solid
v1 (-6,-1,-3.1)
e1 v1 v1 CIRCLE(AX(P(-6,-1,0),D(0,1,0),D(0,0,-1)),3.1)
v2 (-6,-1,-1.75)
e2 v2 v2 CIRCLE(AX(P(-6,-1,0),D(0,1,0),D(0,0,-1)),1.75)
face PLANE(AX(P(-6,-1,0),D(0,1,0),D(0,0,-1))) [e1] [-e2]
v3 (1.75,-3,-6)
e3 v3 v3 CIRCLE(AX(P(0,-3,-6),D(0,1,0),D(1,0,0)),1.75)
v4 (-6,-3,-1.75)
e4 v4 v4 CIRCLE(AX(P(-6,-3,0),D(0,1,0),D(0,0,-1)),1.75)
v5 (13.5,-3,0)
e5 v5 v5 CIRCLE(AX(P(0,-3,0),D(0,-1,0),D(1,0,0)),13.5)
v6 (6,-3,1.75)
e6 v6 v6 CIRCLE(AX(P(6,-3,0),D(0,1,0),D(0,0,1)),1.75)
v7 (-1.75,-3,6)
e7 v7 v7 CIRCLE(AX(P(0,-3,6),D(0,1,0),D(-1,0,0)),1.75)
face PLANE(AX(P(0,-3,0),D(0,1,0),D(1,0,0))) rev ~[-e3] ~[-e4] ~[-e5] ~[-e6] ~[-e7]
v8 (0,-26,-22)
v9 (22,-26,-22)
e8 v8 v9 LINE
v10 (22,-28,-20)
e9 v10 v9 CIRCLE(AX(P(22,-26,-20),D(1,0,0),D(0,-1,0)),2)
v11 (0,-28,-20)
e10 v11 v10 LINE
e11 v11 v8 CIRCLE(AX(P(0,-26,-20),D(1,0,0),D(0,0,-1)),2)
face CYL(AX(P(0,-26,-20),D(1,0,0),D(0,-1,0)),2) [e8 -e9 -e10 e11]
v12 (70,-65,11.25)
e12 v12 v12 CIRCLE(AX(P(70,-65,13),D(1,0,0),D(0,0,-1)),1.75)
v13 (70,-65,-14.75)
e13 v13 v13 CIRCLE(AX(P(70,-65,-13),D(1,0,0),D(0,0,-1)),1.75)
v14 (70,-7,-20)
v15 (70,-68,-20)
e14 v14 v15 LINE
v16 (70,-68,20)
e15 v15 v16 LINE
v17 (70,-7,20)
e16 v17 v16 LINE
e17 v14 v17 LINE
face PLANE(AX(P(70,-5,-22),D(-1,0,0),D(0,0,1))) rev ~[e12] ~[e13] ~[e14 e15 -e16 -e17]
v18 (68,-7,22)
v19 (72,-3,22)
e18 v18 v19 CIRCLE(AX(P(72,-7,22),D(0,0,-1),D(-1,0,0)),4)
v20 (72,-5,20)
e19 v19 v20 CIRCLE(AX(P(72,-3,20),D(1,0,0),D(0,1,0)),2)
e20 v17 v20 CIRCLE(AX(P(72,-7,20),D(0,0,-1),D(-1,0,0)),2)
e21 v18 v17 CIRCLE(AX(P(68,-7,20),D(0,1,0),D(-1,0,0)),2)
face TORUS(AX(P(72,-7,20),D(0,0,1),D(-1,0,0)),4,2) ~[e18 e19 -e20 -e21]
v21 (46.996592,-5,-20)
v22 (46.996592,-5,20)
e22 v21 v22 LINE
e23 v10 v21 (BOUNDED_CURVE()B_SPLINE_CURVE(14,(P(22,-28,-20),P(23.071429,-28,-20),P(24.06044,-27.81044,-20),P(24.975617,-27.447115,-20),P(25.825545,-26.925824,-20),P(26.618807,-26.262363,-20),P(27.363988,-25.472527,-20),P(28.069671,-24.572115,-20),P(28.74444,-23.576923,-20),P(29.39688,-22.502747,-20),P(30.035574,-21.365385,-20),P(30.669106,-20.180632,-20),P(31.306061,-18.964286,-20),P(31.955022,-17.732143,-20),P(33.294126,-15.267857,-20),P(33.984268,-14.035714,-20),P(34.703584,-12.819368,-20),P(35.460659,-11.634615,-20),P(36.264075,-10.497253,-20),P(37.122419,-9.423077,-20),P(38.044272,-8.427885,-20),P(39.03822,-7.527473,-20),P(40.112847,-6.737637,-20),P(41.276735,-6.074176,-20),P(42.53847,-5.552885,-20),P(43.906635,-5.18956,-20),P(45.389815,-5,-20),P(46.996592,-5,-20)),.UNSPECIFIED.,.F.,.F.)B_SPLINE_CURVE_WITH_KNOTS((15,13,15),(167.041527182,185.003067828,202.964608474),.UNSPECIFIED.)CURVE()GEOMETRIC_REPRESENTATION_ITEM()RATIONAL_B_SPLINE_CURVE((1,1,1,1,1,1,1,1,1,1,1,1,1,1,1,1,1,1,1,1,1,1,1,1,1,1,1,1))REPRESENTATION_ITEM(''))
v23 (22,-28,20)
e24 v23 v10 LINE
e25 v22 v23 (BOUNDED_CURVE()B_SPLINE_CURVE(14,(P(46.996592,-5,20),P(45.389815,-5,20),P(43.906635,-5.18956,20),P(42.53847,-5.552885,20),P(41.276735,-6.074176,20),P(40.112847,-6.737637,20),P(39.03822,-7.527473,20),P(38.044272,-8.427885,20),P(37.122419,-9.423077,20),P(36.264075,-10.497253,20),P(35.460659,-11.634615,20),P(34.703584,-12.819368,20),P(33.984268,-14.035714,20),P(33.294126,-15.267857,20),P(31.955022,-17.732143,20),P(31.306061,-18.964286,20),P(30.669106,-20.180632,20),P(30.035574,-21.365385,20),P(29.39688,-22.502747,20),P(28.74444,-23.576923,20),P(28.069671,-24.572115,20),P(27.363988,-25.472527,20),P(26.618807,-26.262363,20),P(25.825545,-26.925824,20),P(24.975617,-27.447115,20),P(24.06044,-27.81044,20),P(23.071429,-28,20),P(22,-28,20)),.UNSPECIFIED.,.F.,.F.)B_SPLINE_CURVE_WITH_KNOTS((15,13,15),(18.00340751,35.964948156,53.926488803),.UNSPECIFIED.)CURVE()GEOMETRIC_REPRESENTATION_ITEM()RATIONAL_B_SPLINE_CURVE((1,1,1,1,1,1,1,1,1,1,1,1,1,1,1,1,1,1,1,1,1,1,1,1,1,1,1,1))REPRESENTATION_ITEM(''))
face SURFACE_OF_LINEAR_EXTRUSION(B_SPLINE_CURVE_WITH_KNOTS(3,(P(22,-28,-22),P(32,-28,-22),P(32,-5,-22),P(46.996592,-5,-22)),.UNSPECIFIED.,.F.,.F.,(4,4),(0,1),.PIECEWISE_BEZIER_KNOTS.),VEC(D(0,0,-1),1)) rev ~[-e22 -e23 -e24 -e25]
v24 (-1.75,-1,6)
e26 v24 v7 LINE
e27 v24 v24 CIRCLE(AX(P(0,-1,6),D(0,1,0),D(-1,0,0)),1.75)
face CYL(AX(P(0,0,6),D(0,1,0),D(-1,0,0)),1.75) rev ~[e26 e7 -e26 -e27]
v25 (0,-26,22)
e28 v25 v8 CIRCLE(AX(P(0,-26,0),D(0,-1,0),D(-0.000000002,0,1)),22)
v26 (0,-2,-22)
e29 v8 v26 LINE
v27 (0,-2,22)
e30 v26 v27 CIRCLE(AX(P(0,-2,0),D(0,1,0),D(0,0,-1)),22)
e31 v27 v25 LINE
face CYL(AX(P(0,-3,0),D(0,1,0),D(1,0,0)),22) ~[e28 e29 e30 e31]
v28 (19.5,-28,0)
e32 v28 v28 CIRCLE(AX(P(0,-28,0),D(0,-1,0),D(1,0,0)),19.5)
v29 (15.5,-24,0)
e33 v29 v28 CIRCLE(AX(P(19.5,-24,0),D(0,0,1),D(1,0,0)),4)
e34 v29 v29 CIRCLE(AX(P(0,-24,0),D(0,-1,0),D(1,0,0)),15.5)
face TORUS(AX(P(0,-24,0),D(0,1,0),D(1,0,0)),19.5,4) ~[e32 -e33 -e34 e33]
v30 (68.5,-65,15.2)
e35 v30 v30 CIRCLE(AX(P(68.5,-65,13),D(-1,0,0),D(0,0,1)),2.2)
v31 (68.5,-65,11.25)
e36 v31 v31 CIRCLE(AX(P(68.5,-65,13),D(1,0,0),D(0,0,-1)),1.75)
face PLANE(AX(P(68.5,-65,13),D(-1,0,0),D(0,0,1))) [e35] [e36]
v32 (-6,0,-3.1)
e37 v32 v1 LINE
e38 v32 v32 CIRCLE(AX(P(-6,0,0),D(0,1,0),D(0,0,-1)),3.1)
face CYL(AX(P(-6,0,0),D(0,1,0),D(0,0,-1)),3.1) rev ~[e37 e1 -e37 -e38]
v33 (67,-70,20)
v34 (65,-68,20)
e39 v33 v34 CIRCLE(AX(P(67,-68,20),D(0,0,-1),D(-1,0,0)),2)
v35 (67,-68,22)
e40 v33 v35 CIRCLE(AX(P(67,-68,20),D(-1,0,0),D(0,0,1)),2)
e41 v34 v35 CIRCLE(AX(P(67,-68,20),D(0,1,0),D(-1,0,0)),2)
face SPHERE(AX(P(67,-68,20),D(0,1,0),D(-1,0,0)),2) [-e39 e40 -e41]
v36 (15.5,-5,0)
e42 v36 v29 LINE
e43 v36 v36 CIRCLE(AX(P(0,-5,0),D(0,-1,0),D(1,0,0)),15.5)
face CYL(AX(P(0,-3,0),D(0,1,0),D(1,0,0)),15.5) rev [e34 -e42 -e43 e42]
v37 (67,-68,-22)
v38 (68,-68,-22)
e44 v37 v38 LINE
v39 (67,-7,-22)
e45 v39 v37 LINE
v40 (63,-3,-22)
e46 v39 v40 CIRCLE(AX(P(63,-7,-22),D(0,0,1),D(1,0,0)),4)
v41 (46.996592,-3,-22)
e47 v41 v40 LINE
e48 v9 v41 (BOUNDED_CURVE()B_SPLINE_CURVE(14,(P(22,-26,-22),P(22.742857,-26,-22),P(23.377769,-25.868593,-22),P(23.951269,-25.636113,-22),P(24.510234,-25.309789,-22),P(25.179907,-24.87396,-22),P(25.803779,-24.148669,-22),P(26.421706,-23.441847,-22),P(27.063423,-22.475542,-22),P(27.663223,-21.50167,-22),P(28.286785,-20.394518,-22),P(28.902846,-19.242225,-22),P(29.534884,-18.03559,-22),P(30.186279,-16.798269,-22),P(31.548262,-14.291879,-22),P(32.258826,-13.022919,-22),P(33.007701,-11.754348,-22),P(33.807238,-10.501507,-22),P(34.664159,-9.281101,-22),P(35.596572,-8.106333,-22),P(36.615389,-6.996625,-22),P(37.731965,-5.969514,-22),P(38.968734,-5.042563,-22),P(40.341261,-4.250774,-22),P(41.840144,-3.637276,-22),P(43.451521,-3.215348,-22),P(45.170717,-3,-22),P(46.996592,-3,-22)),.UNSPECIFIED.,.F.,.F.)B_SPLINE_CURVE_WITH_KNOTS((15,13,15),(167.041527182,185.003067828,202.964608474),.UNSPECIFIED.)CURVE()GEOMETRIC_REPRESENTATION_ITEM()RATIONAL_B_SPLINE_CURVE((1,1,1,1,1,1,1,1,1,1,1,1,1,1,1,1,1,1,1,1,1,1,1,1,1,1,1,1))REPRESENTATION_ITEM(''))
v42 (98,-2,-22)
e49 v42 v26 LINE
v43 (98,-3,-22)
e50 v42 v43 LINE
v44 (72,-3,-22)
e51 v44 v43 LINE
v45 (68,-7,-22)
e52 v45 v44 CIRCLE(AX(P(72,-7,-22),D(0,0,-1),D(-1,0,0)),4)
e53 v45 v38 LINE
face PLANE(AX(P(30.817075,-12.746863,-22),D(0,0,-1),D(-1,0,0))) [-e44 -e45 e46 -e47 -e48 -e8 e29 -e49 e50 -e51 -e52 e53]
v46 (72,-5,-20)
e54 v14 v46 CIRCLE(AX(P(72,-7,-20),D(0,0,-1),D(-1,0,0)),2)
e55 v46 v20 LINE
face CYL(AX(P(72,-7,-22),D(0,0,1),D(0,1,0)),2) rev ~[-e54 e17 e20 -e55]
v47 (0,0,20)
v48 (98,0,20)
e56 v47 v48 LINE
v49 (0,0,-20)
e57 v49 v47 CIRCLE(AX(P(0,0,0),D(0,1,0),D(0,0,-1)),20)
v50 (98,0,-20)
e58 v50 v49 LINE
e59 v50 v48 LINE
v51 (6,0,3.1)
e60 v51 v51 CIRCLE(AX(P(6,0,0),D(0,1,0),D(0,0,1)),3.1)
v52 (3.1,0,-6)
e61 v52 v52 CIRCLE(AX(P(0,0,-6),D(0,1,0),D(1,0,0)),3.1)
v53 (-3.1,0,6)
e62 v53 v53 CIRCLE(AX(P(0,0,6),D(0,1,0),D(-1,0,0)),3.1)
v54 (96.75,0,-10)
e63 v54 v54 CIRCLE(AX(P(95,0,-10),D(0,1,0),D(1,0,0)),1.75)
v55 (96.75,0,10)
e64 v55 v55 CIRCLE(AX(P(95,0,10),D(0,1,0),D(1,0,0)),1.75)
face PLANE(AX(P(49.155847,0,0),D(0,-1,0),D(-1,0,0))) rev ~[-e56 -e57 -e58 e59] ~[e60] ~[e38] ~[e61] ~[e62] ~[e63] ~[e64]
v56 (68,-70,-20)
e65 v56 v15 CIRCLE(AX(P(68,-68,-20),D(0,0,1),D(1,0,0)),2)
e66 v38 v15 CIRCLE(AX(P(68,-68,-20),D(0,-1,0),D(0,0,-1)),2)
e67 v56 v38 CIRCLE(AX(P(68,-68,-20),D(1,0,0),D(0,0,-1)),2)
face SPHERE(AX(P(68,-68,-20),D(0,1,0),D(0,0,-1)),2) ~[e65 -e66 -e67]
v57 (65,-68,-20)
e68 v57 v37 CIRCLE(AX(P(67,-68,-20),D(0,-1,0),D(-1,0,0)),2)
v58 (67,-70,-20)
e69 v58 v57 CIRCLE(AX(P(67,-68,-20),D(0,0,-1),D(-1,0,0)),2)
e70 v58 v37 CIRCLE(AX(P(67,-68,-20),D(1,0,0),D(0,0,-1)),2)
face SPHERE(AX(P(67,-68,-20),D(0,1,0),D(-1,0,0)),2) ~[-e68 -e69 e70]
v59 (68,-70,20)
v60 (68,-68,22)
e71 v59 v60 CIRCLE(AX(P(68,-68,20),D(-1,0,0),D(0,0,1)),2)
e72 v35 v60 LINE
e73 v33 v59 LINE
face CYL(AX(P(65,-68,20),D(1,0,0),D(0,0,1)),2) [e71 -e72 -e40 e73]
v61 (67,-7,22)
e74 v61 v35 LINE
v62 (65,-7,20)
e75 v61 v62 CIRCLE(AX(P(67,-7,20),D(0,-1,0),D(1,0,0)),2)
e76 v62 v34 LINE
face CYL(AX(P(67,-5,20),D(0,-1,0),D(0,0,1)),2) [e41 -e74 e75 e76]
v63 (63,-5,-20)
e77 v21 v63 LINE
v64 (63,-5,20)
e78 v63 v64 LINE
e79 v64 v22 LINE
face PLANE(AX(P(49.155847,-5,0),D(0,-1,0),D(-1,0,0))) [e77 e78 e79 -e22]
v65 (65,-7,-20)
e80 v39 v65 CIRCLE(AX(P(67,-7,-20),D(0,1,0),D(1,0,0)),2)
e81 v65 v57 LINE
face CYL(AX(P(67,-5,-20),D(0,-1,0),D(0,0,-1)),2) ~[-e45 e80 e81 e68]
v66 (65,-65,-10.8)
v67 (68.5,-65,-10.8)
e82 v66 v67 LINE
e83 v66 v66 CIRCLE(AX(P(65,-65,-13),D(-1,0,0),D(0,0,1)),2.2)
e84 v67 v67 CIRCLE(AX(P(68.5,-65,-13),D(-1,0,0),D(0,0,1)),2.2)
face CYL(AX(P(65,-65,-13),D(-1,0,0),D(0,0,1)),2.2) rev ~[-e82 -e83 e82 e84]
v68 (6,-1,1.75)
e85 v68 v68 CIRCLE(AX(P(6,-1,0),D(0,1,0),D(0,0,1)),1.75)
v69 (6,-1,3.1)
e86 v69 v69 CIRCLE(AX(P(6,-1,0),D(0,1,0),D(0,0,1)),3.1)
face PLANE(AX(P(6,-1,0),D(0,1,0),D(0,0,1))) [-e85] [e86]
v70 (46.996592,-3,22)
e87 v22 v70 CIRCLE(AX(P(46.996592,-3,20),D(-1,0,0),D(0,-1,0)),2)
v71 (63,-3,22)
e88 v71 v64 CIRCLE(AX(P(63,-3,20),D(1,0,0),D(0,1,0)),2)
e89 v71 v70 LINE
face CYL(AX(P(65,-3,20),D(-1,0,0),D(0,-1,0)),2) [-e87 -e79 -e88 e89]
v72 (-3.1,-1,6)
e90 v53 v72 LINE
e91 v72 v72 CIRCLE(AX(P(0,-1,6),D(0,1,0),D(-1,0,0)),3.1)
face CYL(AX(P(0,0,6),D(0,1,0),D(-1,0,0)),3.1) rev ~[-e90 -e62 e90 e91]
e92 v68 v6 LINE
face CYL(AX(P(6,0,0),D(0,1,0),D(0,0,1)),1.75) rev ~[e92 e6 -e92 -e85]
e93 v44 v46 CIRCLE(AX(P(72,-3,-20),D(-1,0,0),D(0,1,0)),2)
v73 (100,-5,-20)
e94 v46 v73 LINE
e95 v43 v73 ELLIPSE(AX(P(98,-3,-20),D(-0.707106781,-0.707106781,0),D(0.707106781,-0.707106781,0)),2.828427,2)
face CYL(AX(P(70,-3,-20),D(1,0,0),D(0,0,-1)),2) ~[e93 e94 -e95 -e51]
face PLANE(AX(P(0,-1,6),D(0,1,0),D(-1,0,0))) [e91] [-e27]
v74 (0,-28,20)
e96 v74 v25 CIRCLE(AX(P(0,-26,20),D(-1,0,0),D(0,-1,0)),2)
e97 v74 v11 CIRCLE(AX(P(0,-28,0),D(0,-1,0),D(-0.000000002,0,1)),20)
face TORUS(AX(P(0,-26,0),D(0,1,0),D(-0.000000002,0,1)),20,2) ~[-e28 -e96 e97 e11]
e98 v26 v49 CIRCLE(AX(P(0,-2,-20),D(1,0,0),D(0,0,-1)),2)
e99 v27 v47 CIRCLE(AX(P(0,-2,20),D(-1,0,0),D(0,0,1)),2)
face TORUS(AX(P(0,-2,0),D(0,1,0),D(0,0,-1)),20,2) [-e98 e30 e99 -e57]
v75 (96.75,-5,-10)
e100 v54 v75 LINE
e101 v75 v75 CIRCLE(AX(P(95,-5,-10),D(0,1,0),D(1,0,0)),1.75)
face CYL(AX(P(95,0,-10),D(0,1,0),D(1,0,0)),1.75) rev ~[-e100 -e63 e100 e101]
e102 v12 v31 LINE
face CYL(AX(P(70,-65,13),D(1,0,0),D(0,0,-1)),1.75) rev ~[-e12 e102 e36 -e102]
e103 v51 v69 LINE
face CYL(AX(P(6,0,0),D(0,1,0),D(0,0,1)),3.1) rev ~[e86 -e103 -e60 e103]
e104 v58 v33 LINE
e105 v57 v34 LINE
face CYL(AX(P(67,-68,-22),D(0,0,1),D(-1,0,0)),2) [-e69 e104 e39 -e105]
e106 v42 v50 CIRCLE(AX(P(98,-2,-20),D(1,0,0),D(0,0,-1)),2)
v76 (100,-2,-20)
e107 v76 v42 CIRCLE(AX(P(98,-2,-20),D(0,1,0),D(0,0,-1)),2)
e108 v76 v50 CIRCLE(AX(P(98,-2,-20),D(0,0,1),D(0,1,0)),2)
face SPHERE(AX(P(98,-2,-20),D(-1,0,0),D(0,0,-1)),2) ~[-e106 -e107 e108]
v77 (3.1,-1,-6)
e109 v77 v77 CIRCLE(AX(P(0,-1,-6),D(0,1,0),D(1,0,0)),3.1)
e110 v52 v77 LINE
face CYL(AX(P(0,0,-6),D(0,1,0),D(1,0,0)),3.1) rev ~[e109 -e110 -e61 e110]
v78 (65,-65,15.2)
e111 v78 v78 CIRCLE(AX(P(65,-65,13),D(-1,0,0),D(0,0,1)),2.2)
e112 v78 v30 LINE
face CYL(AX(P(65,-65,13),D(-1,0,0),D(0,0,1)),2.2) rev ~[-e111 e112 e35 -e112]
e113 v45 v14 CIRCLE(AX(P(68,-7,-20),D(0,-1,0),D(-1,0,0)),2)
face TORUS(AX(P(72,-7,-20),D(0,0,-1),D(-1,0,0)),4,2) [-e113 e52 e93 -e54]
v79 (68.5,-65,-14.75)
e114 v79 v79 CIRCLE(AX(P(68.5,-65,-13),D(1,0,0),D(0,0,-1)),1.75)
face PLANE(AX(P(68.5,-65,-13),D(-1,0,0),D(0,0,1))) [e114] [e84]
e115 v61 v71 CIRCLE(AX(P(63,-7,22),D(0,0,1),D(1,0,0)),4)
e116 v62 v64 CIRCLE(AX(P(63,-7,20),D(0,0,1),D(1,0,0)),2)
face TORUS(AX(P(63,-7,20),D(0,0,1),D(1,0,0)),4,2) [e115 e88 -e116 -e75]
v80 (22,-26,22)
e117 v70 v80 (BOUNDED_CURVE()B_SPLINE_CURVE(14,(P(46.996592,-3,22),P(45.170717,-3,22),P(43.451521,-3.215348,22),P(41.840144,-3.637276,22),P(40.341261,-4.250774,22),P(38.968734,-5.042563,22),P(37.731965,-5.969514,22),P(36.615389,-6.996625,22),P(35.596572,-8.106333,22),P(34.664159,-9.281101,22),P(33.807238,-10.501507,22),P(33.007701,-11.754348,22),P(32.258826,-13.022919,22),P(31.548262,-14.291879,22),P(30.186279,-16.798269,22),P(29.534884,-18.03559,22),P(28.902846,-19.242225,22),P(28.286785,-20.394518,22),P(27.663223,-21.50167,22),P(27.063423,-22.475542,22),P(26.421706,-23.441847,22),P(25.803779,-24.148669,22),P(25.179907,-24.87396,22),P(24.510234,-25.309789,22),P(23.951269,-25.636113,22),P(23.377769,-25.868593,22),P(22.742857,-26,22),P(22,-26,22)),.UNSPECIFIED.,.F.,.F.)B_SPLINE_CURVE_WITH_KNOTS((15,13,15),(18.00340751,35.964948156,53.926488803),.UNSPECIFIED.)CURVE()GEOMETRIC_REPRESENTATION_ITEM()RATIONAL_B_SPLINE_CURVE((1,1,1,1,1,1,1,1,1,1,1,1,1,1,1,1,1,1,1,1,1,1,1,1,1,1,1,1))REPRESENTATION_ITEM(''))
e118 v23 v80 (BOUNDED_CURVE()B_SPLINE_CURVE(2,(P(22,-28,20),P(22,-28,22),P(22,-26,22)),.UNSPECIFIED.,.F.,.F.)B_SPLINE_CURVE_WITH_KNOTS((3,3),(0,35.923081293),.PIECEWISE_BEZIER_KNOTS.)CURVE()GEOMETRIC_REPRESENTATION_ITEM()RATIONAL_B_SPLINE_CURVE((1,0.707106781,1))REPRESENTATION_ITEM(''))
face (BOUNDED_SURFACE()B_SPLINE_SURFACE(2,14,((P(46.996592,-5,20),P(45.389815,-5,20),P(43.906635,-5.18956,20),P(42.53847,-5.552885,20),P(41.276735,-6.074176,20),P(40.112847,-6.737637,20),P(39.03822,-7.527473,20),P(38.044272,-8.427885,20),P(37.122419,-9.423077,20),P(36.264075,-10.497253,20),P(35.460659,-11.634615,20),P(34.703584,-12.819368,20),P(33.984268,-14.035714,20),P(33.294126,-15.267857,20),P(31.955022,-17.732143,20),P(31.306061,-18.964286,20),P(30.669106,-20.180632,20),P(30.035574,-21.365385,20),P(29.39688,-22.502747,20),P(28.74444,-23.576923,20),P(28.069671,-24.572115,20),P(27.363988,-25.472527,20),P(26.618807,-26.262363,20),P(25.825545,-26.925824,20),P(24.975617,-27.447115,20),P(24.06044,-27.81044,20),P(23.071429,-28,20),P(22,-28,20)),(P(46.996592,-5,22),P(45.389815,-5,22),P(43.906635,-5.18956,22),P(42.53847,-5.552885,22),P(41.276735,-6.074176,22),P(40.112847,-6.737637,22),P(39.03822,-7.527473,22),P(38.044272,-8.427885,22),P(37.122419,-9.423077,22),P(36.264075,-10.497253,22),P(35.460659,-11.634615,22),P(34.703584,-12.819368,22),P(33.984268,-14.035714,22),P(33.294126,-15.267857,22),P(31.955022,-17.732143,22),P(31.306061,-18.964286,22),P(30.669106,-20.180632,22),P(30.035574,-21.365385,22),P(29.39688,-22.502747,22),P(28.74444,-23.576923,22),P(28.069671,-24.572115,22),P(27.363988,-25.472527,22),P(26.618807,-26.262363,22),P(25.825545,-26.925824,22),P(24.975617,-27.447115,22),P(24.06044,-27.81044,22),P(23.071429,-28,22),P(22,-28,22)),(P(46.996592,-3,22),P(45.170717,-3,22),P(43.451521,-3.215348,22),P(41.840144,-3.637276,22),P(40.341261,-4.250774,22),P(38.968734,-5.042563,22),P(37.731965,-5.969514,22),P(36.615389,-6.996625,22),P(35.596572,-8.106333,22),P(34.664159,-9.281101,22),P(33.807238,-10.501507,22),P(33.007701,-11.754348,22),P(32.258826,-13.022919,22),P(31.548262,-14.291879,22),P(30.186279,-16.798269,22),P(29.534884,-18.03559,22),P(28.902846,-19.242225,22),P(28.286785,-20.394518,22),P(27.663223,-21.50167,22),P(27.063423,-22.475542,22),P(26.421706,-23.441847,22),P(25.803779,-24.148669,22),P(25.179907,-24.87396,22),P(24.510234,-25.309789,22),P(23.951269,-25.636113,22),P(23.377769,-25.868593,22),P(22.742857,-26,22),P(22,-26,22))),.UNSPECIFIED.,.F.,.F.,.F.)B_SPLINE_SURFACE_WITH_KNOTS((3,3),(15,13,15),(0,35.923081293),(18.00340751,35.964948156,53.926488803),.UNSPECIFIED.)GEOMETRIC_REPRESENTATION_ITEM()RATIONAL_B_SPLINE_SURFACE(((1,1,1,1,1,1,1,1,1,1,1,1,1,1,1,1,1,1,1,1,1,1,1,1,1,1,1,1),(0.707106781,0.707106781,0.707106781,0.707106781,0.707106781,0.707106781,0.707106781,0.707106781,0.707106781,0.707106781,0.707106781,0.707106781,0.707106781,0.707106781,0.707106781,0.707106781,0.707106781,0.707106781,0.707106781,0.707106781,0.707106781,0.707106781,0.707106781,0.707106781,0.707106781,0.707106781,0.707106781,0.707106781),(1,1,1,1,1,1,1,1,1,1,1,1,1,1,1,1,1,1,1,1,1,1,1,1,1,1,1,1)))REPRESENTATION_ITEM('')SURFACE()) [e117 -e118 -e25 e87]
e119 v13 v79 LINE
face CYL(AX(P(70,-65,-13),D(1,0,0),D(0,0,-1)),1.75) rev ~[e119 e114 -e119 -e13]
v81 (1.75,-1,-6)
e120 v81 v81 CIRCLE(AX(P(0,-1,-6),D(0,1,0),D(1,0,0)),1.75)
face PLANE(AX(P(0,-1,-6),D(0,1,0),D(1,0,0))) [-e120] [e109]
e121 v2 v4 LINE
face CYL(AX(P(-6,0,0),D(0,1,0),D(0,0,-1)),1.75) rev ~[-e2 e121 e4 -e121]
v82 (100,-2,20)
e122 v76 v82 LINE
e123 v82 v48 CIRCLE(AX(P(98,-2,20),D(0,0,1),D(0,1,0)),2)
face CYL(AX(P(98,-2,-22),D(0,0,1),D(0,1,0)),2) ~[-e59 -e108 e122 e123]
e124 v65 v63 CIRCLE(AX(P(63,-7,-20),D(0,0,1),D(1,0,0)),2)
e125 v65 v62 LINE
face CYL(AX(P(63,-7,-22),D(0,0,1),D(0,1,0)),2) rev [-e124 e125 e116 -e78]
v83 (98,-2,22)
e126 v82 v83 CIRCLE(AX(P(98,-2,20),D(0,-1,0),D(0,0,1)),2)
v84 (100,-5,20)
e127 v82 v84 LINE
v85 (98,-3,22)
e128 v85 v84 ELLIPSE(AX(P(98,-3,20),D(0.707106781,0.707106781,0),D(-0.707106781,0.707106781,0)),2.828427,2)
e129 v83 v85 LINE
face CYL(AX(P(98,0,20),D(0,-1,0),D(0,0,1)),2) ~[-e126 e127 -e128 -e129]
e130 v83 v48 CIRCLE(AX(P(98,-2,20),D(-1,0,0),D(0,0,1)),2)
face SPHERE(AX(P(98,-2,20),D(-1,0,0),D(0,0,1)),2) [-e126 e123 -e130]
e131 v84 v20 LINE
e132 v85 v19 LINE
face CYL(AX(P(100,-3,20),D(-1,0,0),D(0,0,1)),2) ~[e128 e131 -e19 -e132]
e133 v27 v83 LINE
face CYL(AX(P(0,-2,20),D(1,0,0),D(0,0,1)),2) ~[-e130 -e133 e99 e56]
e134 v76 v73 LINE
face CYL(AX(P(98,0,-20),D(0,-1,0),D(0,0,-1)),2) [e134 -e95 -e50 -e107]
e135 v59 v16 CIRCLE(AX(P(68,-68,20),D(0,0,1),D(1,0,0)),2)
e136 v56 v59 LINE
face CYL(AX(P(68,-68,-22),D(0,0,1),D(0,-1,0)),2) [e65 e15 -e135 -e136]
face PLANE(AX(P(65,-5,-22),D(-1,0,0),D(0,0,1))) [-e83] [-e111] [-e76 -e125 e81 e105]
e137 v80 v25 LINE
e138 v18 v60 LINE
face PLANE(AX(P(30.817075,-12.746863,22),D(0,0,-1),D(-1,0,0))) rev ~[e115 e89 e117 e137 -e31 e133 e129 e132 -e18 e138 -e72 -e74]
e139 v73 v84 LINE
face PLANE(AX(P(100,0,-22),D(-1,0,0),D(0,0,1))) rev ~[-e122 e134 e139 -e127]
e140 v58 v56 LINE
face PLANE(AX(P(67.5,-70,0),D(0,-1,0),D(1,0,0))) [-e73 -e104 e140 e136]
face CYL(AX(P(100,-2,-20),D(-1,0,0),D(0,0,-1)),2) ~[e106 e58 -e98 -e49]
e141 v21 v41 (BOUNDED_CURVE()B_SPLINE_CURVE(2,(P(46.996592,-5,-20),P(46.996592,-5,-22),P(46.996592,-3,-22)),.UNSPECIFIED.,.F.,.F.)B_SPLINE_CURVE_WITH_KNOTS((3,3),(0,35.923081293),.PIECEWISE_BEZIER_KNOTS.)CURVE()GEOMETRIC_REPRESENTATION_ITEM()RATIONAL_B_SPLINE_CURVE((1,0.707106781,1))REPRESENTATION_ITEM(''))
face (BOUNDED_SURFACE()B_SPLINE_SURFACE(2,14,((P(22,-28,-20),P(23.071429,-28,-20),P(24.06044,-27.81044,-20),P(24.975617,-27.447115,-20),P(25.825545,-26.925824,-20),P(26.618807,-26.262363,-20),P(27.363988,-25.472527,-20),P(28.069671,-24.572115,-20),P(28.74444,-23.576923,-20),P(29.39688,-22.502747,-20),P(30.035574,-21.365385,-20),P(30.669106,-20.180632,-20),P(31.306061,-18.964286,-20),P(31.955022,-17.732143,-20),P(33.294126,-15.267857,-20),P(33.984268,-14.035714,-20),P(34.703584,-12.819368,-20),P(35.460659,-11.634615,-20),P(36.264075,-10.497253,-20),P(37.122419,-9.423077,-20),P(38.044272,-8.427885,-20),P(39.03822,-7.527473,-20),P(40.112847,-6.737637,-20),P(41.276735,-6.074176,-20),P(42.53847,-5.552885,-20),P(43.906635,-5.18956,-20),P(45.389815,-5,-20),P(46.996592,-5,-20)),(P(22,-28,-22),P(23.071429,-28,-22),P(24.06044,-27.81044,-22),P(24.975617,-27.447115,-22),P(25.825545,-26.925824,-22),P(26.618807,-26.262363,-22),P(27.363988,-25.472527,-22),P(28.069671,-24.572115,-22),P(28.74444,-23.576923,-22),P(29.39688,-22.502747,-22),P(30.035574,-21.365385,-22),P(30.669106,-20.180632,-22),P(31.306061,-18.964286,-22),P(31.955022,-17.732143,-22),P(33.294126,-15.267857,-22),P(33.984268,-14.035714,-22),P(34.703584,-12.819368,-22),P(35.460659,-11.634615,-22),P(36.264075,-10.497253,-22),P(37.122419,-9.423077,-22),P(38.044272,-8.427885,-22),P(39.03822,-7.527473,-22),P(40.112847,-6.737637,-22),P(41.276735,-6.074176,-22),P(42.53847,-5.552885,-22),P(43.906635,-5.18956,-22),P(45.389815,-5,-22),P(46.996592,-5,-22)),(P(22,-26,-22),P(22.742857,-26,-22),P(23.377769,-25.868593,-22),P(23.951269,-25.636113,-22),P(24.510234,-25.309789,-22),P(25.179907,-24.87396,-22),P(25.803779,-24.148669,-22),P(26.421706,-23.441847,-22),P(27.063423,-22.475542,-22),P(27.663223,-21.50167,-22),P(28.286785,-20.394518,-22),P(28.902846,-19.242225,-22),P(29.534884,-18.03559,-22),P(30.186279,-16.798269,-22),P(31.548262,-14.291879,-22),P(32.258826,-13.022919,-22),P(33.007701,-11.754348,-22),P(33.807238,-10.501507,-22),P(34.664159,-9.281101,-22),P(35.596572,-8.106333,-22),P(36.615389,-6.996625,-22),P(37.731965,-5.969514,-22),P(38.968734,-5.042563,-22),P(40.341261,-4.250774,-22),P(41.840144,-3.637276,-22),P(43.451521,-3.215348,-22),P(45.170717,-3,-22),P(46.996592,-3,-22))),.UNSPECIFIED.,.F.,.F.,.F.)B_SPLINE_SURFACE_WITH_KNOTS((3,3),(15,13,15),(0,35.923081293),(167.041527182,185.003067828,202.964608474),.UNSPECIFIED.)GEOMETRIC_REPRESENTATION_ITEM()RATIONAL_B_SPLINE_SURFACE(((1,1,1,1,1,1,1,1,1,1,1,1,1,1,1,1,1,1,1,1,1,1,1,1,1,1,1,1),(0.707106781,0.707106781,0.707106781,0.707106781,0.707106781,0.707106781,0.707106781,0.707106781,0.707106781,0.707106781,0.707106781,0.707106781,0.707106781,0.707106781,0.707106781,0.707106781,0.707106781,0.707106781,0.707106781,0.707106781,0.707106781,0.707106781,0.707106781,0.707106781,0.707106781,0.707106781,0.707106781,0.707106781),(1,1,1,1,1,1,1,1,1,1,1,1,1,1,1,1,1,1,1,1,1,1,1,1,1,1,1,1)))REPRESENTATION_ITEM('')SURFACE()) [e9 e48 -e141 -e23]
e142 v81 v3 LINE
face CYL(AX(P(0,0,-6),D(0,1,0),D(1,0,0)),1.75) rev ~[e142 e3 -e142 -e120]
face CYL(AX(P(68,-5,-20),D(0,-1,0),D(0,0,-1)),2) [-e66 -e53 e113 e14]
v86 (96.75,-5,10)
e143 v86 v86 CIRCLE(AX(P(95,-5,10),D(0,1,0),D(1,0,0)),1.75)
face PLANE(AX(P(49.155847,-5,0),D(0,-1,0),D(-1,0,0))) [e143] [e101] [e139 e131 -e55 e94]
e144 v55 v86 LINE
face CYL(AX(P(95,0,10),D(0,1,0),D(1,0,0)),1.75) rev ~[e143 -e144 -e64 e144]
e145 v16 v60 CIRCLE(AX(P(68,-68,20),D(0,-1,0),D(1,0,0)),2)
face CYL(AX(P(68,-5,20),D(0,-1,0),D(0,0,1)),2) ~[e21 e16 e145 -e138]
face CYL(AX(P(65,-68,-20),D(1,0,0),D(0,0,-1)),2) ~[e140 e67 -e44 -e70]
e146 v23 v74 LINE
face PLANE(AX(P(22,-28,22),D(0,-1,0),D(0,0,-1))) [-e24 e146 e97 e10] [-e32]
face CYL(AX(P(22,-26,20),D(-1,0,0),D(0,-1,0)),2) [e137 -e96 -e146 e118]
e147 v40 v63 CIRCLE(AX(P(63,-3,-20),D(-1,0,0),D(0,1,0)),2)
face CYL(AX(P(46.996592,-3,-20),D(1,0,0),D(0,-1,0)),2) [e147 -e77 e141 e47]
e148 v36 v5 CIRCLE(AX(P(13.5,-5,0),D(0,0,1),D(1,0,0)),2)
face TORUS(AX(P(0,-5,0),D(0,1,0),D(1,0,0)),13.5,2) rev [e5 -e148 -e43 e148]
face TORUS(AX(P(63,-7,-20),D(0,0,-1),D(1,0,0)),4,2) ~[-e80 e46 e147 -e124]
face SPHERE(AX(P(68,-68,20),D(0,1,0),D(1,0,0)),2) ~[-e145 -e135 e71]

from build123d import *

# Parameters (mm, degrees)
SKETCH1_R           = 22
BOSS_EXTRUDE1_DEPTH = 3
SKETCH2_R           = 22
SKETCH2_R_2         = 15.5
BOSS_EXTRUDE2_DEPTH = 25
SKETCH3_R           = 3.1
SKETCH3_R_2         = 1.75
CUT_EXTRUDE1_DEPTH  = 1
SKETCH3_2_R         = 1.75
CUT_EXTRUDE2_DEPTH  = 3
CIRPATTERN1_COUNT   = 4
FILLET1_R           = 2
FILLET2_R           = 4
BOSS_EXTRUDE3_DEPTH = 5
BOSS_EXTRUDE5_REACH = 46
SKETCH11_W          = 44
SKETCH11_H          = 23
BOSS_EXTRUDE6_START = -22
BOSS_EXTRUDE6_DEPTH = 44
SKETCH15_W          = 5
SKETCH15_H          = 44
BOSS_EXTRUDE7_DEPTH = 65
FILLET6_R           = 2
CUT_EXTRUDE4_REACH  = 94
SKETCH16_R          = 1.75
CUT_EXTRUDE3_REACH  = 72
SKETCH14_R          = 1.75
SKETCH17_R          = 2.2
CUT_EXTRUDE5_DEPTH  = 3.5


with BuildPart() as part:
    # Sketch1 → Boss-Extrude1 (new body)
    with BuildSketch(Plane(origin=(0, 0, 0), x_dir=(1, 0, 0), z_dir=(0, 1, 0))):
        Circle(SKETCH1_R)
    extrude(amount=-BOSS_EXTRUDE1_DEPTH)

    # Sketch2 → Boss-Extrude2 (add)
    with BuildSketch(Plane.XZ.offset(3)):
        Circle(SKETCH2_R)
        Circle(SKETCH2_R_2, mode=Mode.SUBTRACT)
    extrude(amount=BOSS_EXTRUDE2_DEPTH)

    # Sketch3 → Cut-Extrude1 (cut)
    with BuildSketch(Plane(origin=(0, 0, 0), x_dir=(1, 0, 0), z_dir=(0, 1, 0))):
        with Locations((0, 6)):
            Circle(SKETCH3_R)
        with Locations((0, 6)):
            Circle(SKETCH3_R_2, mode=Mode.SUBTRACT)
    cut_extrude1 = extrude(amount=-CUT_EXTRUDE1_DEPTH, mode=Mode.SUBTRACT)

    # Sketch3<2> → Cut-Extrude2 (cut)
    with BuildSketch(Plane(origin=(0, 0, 0), x_dir=(1, 0, 0), z_dir=(0, 1, 0))):
        with Locations((0, 6)):
            Circle(SKETCH3_2_R)
    cut_extrude2 = extrude(amount=-CUT_EXTRUDE2_DEPTH, mode=Mode.SUBTRACT)

    # CirPattern1: Cut-Extrude1, Cut-Extrude2 ×4 about axis
    cirpattern1_axis = Axis((0, 0, 0), (0, 1, 0))
    for i in range(1, CIRPATTERN1_COUNT):
        add(cut_extrude1.rotate(cirpattern1_axis, i * 360 / CIRPATTERN1_COUNT), mode=Mode.SUBTRACT)
        add(cut_extrude2.rotate(cirpattern1_axis, i * 360 / CIRPATTERN1_COUNT), mode=Mode.SUBTRACT)

    # Fillet1
    fillet1_edges = [part.edges().sort_by_distance(p)[0] for p in [
        (-15.5, -3, 0),
    ]]
    fillet(fillet1_edges, radius=FILLET1_R)

    # Fillet2
    fillet2_edges = [part.edges().sort_by_distance(p)[0] for p in [
        (-15.5, -28, 0),
    ]]
    fillet(fillet2_edges, radius=FILLET2_R)

    # Sketch5 → Boss-Extrude3 (add)
    with BuildSketch(Plane(origin=(0, 0, 0), x_dir=(1, 0, 0), z_dir=(0, 1, 0))):
        with BuildLine():
            Line((0, 22), (100, 22))
            Line((100, 22), (100, -22))
            Line((100, -22), (0, -22))
            ThreePointArc((0, -22), (22, 0), (0, 22))
        make_face()
    extrude(amount=-BOSS_EXTRUDE3_DEPTH)

    # Sketch11 → Boss-Extrude5 (add, up to next)
    with BuildSketch(Plane(origin=(22, 0, 0), x_dir=(0, 0, -1), z_dir=(1, 0, 0)), mode=Mode.PRIVATE) as boss_extrude5_sk1:
        with Locations((0, -16.5)):
            Rectangle(SKETCH11_W, SKETCH11_H)
    boss_extrude5_tool1 = extrude(boss_extrude5_sk1.sketch, amount=-BOSS_EXTRUDE5_REACH, mode=Mode.PRIVATE) - part.part
    add(boss_extrude5_tool1.solids().sort_by_distance((22, -16.5, 0))[0])
    add(boss_extrude5_tool1.solids().sort_by_distance((22, -16.5, 0))[1])

    # Sketch13 → Boss-Extrude6 (add)
    with BuildSketch(Plane.XY.offset(BOSS_EXTRUDE6_START)):
        with BuildLine():
            Line((22, -28), (22, -5))
            Line((22, -5), (46.99659249, -5))
            add(Edge.make_bspline(
                [(22, -28), (32, -28), (32, -5), (46.99659249, -5)],
                knots=[0, 0, 0, 0, 1, 1, 1, 1], degree=3))
        make_face()
    extrude(amount=BOSS_EXTRUDE6_DEPTH)

    # Sketch15 → Boss-Extrude7 (add)
    with BuildSketch(Plane.XZ.offset(5)):
        with Locations((67.5, 0)):
            Rectangle(SKETCH15_W, SKETCH15_H)
    extrude(amount=BOSS_EXTRUDE7_DEPTH)

    # Fillet6
    fillet6_edges = [part.edges().sort_by_distance(p)[0] for p in [
        (55.998296245, -5, 22),
        (33.359605405, -15.173106439, -22),
        (33.359605405, -15.173106439, 22),
        (85, -5, 22),
        (55.998296245, -5, -22),
        (65, -5, 0),
        (65, -37.5, 22),
        (65, -37.5, -22),
        (70, -5, 0),
        (70, -37.5, -22),
        (70, -37.5, 22),
        (65, -70, 0),
        (67.5, -70, -22),
        (70, -70, 0),
        (67.5, -70, 22),
        (-22, 0, 0),
        (85, -5, -22),
        (100, -2.5, -22),
        (100, -2.5, 22),
        (50, 0, 22),
        (100, 0, 0),
        (50, 0, -22),
        (11, -28, -22),
        (-22, -28, -2.2e-08),
        (10.999999978, -28, 22),
    ]]
    fillet(fillet6_edges, radius=FILLET6_R)

    # Sketch16 → Cut-Extrude4 (cut, up to next)
    with BuildSketch(Plane(origin=(70, 0, 0), x_dir=(0, 0, -1), z_dir=(1, 0, 0)), mode=Mode.PRIVATE) as cut_extrude4_sk1:
        with Locations((-13, -65)):
            Circle(SKETCH16_R)
    cut_extrude4_tool1 = extrude(cut_extrude4_sk1.sketch, amount=-CUT_EXTRUDE4_REACH, mode=Mode.PRIVATE) & part.part
    add(cut_extrude4_tool1.solids().sort_by_distance((70, -65, 13))[0], mode=Mode.SUBTRACT)
    # Sketch16 → Cut-Extrude4 (cut, up to next)
    with BuildSketch(Plane(origin=(70, 0, 0), x_dir=(0, 0, -1), z_dir=(1, 0, 0)), mode=Mode.PRIVATE) as cut_extrude4_sk2:
        with Locations((13, -65)):
            Circle(SKETCH16_R)
    cut_extrude4_tool2 = extrude(cut_extrude4_sk2.sketch, amount=-CUT_EXTRUDE4_REACH, mode=Mode.PRIVATE) & part.part
    add(cut_extrude4_tool2.solids().sort_by_distance((70, -65, -13))[0], mode=Mode.SUBTRACT)

    # Sketch14 → Cut-Extrude3 (cut, up to next)
    with BuildSketch(Plane(origin=(0, 0, 0), x_dir=(1, 0, 0), z_dir=(0, 1, 0)), mode=Mode.PRIVATE) as cut_extrude3_sk1:
        with Locations((95, 10)):
            Circle(SKETCH14_R)
    cut_extrude3_tool1 = extrude(cut_extrude3_sk1.sketch, amount=-CUT_EXTRUDE3_REACH, mode=Mode.PRIVATE) & part.part
    add(cut_extrude3_tool1.solids().sort_by_distance((95, 0, -10))[0], mode=Mode.SUBTRACT)
    # Sketch14 → Cut-Extrude3 (cut, up to next)
    with BuildSketch(Plane(origin=(0, 0, 0), x_dir=(1, 0, 0), z_dir=(0, 1, 0)), mode=Mode.PRIVATE) as cut_extrude3_sk2:
        with Locations((95, -10)):
            Circle(SKETCH14_R)
    cut_extrude3_tool2 = extrude(cut_extrude3_sk2.sketch, amount=-CUT_EXTRUDE3_REACH, mode=Mode.PRIVATE) & part.part
    add(cut_extrude3_tool2.solids().sort_by_distance((95, 0, 10))[0], mode=Mode.SUBTRACT)

    # Sketch17 → Cut-Extrude5 (cut)
    with BuildSketch(Plane.ZY.offset(-65)):
        with Locations((-13, -65)):
            Circle(SKETCH17_R)
        with Locations((13, -65)):
            Circle(SKETCH17_R)
    extrude(amount=-CUT_EXTRUDE5_DEPTH, mode=Mode.SUBTRACT)


solid = part.part
